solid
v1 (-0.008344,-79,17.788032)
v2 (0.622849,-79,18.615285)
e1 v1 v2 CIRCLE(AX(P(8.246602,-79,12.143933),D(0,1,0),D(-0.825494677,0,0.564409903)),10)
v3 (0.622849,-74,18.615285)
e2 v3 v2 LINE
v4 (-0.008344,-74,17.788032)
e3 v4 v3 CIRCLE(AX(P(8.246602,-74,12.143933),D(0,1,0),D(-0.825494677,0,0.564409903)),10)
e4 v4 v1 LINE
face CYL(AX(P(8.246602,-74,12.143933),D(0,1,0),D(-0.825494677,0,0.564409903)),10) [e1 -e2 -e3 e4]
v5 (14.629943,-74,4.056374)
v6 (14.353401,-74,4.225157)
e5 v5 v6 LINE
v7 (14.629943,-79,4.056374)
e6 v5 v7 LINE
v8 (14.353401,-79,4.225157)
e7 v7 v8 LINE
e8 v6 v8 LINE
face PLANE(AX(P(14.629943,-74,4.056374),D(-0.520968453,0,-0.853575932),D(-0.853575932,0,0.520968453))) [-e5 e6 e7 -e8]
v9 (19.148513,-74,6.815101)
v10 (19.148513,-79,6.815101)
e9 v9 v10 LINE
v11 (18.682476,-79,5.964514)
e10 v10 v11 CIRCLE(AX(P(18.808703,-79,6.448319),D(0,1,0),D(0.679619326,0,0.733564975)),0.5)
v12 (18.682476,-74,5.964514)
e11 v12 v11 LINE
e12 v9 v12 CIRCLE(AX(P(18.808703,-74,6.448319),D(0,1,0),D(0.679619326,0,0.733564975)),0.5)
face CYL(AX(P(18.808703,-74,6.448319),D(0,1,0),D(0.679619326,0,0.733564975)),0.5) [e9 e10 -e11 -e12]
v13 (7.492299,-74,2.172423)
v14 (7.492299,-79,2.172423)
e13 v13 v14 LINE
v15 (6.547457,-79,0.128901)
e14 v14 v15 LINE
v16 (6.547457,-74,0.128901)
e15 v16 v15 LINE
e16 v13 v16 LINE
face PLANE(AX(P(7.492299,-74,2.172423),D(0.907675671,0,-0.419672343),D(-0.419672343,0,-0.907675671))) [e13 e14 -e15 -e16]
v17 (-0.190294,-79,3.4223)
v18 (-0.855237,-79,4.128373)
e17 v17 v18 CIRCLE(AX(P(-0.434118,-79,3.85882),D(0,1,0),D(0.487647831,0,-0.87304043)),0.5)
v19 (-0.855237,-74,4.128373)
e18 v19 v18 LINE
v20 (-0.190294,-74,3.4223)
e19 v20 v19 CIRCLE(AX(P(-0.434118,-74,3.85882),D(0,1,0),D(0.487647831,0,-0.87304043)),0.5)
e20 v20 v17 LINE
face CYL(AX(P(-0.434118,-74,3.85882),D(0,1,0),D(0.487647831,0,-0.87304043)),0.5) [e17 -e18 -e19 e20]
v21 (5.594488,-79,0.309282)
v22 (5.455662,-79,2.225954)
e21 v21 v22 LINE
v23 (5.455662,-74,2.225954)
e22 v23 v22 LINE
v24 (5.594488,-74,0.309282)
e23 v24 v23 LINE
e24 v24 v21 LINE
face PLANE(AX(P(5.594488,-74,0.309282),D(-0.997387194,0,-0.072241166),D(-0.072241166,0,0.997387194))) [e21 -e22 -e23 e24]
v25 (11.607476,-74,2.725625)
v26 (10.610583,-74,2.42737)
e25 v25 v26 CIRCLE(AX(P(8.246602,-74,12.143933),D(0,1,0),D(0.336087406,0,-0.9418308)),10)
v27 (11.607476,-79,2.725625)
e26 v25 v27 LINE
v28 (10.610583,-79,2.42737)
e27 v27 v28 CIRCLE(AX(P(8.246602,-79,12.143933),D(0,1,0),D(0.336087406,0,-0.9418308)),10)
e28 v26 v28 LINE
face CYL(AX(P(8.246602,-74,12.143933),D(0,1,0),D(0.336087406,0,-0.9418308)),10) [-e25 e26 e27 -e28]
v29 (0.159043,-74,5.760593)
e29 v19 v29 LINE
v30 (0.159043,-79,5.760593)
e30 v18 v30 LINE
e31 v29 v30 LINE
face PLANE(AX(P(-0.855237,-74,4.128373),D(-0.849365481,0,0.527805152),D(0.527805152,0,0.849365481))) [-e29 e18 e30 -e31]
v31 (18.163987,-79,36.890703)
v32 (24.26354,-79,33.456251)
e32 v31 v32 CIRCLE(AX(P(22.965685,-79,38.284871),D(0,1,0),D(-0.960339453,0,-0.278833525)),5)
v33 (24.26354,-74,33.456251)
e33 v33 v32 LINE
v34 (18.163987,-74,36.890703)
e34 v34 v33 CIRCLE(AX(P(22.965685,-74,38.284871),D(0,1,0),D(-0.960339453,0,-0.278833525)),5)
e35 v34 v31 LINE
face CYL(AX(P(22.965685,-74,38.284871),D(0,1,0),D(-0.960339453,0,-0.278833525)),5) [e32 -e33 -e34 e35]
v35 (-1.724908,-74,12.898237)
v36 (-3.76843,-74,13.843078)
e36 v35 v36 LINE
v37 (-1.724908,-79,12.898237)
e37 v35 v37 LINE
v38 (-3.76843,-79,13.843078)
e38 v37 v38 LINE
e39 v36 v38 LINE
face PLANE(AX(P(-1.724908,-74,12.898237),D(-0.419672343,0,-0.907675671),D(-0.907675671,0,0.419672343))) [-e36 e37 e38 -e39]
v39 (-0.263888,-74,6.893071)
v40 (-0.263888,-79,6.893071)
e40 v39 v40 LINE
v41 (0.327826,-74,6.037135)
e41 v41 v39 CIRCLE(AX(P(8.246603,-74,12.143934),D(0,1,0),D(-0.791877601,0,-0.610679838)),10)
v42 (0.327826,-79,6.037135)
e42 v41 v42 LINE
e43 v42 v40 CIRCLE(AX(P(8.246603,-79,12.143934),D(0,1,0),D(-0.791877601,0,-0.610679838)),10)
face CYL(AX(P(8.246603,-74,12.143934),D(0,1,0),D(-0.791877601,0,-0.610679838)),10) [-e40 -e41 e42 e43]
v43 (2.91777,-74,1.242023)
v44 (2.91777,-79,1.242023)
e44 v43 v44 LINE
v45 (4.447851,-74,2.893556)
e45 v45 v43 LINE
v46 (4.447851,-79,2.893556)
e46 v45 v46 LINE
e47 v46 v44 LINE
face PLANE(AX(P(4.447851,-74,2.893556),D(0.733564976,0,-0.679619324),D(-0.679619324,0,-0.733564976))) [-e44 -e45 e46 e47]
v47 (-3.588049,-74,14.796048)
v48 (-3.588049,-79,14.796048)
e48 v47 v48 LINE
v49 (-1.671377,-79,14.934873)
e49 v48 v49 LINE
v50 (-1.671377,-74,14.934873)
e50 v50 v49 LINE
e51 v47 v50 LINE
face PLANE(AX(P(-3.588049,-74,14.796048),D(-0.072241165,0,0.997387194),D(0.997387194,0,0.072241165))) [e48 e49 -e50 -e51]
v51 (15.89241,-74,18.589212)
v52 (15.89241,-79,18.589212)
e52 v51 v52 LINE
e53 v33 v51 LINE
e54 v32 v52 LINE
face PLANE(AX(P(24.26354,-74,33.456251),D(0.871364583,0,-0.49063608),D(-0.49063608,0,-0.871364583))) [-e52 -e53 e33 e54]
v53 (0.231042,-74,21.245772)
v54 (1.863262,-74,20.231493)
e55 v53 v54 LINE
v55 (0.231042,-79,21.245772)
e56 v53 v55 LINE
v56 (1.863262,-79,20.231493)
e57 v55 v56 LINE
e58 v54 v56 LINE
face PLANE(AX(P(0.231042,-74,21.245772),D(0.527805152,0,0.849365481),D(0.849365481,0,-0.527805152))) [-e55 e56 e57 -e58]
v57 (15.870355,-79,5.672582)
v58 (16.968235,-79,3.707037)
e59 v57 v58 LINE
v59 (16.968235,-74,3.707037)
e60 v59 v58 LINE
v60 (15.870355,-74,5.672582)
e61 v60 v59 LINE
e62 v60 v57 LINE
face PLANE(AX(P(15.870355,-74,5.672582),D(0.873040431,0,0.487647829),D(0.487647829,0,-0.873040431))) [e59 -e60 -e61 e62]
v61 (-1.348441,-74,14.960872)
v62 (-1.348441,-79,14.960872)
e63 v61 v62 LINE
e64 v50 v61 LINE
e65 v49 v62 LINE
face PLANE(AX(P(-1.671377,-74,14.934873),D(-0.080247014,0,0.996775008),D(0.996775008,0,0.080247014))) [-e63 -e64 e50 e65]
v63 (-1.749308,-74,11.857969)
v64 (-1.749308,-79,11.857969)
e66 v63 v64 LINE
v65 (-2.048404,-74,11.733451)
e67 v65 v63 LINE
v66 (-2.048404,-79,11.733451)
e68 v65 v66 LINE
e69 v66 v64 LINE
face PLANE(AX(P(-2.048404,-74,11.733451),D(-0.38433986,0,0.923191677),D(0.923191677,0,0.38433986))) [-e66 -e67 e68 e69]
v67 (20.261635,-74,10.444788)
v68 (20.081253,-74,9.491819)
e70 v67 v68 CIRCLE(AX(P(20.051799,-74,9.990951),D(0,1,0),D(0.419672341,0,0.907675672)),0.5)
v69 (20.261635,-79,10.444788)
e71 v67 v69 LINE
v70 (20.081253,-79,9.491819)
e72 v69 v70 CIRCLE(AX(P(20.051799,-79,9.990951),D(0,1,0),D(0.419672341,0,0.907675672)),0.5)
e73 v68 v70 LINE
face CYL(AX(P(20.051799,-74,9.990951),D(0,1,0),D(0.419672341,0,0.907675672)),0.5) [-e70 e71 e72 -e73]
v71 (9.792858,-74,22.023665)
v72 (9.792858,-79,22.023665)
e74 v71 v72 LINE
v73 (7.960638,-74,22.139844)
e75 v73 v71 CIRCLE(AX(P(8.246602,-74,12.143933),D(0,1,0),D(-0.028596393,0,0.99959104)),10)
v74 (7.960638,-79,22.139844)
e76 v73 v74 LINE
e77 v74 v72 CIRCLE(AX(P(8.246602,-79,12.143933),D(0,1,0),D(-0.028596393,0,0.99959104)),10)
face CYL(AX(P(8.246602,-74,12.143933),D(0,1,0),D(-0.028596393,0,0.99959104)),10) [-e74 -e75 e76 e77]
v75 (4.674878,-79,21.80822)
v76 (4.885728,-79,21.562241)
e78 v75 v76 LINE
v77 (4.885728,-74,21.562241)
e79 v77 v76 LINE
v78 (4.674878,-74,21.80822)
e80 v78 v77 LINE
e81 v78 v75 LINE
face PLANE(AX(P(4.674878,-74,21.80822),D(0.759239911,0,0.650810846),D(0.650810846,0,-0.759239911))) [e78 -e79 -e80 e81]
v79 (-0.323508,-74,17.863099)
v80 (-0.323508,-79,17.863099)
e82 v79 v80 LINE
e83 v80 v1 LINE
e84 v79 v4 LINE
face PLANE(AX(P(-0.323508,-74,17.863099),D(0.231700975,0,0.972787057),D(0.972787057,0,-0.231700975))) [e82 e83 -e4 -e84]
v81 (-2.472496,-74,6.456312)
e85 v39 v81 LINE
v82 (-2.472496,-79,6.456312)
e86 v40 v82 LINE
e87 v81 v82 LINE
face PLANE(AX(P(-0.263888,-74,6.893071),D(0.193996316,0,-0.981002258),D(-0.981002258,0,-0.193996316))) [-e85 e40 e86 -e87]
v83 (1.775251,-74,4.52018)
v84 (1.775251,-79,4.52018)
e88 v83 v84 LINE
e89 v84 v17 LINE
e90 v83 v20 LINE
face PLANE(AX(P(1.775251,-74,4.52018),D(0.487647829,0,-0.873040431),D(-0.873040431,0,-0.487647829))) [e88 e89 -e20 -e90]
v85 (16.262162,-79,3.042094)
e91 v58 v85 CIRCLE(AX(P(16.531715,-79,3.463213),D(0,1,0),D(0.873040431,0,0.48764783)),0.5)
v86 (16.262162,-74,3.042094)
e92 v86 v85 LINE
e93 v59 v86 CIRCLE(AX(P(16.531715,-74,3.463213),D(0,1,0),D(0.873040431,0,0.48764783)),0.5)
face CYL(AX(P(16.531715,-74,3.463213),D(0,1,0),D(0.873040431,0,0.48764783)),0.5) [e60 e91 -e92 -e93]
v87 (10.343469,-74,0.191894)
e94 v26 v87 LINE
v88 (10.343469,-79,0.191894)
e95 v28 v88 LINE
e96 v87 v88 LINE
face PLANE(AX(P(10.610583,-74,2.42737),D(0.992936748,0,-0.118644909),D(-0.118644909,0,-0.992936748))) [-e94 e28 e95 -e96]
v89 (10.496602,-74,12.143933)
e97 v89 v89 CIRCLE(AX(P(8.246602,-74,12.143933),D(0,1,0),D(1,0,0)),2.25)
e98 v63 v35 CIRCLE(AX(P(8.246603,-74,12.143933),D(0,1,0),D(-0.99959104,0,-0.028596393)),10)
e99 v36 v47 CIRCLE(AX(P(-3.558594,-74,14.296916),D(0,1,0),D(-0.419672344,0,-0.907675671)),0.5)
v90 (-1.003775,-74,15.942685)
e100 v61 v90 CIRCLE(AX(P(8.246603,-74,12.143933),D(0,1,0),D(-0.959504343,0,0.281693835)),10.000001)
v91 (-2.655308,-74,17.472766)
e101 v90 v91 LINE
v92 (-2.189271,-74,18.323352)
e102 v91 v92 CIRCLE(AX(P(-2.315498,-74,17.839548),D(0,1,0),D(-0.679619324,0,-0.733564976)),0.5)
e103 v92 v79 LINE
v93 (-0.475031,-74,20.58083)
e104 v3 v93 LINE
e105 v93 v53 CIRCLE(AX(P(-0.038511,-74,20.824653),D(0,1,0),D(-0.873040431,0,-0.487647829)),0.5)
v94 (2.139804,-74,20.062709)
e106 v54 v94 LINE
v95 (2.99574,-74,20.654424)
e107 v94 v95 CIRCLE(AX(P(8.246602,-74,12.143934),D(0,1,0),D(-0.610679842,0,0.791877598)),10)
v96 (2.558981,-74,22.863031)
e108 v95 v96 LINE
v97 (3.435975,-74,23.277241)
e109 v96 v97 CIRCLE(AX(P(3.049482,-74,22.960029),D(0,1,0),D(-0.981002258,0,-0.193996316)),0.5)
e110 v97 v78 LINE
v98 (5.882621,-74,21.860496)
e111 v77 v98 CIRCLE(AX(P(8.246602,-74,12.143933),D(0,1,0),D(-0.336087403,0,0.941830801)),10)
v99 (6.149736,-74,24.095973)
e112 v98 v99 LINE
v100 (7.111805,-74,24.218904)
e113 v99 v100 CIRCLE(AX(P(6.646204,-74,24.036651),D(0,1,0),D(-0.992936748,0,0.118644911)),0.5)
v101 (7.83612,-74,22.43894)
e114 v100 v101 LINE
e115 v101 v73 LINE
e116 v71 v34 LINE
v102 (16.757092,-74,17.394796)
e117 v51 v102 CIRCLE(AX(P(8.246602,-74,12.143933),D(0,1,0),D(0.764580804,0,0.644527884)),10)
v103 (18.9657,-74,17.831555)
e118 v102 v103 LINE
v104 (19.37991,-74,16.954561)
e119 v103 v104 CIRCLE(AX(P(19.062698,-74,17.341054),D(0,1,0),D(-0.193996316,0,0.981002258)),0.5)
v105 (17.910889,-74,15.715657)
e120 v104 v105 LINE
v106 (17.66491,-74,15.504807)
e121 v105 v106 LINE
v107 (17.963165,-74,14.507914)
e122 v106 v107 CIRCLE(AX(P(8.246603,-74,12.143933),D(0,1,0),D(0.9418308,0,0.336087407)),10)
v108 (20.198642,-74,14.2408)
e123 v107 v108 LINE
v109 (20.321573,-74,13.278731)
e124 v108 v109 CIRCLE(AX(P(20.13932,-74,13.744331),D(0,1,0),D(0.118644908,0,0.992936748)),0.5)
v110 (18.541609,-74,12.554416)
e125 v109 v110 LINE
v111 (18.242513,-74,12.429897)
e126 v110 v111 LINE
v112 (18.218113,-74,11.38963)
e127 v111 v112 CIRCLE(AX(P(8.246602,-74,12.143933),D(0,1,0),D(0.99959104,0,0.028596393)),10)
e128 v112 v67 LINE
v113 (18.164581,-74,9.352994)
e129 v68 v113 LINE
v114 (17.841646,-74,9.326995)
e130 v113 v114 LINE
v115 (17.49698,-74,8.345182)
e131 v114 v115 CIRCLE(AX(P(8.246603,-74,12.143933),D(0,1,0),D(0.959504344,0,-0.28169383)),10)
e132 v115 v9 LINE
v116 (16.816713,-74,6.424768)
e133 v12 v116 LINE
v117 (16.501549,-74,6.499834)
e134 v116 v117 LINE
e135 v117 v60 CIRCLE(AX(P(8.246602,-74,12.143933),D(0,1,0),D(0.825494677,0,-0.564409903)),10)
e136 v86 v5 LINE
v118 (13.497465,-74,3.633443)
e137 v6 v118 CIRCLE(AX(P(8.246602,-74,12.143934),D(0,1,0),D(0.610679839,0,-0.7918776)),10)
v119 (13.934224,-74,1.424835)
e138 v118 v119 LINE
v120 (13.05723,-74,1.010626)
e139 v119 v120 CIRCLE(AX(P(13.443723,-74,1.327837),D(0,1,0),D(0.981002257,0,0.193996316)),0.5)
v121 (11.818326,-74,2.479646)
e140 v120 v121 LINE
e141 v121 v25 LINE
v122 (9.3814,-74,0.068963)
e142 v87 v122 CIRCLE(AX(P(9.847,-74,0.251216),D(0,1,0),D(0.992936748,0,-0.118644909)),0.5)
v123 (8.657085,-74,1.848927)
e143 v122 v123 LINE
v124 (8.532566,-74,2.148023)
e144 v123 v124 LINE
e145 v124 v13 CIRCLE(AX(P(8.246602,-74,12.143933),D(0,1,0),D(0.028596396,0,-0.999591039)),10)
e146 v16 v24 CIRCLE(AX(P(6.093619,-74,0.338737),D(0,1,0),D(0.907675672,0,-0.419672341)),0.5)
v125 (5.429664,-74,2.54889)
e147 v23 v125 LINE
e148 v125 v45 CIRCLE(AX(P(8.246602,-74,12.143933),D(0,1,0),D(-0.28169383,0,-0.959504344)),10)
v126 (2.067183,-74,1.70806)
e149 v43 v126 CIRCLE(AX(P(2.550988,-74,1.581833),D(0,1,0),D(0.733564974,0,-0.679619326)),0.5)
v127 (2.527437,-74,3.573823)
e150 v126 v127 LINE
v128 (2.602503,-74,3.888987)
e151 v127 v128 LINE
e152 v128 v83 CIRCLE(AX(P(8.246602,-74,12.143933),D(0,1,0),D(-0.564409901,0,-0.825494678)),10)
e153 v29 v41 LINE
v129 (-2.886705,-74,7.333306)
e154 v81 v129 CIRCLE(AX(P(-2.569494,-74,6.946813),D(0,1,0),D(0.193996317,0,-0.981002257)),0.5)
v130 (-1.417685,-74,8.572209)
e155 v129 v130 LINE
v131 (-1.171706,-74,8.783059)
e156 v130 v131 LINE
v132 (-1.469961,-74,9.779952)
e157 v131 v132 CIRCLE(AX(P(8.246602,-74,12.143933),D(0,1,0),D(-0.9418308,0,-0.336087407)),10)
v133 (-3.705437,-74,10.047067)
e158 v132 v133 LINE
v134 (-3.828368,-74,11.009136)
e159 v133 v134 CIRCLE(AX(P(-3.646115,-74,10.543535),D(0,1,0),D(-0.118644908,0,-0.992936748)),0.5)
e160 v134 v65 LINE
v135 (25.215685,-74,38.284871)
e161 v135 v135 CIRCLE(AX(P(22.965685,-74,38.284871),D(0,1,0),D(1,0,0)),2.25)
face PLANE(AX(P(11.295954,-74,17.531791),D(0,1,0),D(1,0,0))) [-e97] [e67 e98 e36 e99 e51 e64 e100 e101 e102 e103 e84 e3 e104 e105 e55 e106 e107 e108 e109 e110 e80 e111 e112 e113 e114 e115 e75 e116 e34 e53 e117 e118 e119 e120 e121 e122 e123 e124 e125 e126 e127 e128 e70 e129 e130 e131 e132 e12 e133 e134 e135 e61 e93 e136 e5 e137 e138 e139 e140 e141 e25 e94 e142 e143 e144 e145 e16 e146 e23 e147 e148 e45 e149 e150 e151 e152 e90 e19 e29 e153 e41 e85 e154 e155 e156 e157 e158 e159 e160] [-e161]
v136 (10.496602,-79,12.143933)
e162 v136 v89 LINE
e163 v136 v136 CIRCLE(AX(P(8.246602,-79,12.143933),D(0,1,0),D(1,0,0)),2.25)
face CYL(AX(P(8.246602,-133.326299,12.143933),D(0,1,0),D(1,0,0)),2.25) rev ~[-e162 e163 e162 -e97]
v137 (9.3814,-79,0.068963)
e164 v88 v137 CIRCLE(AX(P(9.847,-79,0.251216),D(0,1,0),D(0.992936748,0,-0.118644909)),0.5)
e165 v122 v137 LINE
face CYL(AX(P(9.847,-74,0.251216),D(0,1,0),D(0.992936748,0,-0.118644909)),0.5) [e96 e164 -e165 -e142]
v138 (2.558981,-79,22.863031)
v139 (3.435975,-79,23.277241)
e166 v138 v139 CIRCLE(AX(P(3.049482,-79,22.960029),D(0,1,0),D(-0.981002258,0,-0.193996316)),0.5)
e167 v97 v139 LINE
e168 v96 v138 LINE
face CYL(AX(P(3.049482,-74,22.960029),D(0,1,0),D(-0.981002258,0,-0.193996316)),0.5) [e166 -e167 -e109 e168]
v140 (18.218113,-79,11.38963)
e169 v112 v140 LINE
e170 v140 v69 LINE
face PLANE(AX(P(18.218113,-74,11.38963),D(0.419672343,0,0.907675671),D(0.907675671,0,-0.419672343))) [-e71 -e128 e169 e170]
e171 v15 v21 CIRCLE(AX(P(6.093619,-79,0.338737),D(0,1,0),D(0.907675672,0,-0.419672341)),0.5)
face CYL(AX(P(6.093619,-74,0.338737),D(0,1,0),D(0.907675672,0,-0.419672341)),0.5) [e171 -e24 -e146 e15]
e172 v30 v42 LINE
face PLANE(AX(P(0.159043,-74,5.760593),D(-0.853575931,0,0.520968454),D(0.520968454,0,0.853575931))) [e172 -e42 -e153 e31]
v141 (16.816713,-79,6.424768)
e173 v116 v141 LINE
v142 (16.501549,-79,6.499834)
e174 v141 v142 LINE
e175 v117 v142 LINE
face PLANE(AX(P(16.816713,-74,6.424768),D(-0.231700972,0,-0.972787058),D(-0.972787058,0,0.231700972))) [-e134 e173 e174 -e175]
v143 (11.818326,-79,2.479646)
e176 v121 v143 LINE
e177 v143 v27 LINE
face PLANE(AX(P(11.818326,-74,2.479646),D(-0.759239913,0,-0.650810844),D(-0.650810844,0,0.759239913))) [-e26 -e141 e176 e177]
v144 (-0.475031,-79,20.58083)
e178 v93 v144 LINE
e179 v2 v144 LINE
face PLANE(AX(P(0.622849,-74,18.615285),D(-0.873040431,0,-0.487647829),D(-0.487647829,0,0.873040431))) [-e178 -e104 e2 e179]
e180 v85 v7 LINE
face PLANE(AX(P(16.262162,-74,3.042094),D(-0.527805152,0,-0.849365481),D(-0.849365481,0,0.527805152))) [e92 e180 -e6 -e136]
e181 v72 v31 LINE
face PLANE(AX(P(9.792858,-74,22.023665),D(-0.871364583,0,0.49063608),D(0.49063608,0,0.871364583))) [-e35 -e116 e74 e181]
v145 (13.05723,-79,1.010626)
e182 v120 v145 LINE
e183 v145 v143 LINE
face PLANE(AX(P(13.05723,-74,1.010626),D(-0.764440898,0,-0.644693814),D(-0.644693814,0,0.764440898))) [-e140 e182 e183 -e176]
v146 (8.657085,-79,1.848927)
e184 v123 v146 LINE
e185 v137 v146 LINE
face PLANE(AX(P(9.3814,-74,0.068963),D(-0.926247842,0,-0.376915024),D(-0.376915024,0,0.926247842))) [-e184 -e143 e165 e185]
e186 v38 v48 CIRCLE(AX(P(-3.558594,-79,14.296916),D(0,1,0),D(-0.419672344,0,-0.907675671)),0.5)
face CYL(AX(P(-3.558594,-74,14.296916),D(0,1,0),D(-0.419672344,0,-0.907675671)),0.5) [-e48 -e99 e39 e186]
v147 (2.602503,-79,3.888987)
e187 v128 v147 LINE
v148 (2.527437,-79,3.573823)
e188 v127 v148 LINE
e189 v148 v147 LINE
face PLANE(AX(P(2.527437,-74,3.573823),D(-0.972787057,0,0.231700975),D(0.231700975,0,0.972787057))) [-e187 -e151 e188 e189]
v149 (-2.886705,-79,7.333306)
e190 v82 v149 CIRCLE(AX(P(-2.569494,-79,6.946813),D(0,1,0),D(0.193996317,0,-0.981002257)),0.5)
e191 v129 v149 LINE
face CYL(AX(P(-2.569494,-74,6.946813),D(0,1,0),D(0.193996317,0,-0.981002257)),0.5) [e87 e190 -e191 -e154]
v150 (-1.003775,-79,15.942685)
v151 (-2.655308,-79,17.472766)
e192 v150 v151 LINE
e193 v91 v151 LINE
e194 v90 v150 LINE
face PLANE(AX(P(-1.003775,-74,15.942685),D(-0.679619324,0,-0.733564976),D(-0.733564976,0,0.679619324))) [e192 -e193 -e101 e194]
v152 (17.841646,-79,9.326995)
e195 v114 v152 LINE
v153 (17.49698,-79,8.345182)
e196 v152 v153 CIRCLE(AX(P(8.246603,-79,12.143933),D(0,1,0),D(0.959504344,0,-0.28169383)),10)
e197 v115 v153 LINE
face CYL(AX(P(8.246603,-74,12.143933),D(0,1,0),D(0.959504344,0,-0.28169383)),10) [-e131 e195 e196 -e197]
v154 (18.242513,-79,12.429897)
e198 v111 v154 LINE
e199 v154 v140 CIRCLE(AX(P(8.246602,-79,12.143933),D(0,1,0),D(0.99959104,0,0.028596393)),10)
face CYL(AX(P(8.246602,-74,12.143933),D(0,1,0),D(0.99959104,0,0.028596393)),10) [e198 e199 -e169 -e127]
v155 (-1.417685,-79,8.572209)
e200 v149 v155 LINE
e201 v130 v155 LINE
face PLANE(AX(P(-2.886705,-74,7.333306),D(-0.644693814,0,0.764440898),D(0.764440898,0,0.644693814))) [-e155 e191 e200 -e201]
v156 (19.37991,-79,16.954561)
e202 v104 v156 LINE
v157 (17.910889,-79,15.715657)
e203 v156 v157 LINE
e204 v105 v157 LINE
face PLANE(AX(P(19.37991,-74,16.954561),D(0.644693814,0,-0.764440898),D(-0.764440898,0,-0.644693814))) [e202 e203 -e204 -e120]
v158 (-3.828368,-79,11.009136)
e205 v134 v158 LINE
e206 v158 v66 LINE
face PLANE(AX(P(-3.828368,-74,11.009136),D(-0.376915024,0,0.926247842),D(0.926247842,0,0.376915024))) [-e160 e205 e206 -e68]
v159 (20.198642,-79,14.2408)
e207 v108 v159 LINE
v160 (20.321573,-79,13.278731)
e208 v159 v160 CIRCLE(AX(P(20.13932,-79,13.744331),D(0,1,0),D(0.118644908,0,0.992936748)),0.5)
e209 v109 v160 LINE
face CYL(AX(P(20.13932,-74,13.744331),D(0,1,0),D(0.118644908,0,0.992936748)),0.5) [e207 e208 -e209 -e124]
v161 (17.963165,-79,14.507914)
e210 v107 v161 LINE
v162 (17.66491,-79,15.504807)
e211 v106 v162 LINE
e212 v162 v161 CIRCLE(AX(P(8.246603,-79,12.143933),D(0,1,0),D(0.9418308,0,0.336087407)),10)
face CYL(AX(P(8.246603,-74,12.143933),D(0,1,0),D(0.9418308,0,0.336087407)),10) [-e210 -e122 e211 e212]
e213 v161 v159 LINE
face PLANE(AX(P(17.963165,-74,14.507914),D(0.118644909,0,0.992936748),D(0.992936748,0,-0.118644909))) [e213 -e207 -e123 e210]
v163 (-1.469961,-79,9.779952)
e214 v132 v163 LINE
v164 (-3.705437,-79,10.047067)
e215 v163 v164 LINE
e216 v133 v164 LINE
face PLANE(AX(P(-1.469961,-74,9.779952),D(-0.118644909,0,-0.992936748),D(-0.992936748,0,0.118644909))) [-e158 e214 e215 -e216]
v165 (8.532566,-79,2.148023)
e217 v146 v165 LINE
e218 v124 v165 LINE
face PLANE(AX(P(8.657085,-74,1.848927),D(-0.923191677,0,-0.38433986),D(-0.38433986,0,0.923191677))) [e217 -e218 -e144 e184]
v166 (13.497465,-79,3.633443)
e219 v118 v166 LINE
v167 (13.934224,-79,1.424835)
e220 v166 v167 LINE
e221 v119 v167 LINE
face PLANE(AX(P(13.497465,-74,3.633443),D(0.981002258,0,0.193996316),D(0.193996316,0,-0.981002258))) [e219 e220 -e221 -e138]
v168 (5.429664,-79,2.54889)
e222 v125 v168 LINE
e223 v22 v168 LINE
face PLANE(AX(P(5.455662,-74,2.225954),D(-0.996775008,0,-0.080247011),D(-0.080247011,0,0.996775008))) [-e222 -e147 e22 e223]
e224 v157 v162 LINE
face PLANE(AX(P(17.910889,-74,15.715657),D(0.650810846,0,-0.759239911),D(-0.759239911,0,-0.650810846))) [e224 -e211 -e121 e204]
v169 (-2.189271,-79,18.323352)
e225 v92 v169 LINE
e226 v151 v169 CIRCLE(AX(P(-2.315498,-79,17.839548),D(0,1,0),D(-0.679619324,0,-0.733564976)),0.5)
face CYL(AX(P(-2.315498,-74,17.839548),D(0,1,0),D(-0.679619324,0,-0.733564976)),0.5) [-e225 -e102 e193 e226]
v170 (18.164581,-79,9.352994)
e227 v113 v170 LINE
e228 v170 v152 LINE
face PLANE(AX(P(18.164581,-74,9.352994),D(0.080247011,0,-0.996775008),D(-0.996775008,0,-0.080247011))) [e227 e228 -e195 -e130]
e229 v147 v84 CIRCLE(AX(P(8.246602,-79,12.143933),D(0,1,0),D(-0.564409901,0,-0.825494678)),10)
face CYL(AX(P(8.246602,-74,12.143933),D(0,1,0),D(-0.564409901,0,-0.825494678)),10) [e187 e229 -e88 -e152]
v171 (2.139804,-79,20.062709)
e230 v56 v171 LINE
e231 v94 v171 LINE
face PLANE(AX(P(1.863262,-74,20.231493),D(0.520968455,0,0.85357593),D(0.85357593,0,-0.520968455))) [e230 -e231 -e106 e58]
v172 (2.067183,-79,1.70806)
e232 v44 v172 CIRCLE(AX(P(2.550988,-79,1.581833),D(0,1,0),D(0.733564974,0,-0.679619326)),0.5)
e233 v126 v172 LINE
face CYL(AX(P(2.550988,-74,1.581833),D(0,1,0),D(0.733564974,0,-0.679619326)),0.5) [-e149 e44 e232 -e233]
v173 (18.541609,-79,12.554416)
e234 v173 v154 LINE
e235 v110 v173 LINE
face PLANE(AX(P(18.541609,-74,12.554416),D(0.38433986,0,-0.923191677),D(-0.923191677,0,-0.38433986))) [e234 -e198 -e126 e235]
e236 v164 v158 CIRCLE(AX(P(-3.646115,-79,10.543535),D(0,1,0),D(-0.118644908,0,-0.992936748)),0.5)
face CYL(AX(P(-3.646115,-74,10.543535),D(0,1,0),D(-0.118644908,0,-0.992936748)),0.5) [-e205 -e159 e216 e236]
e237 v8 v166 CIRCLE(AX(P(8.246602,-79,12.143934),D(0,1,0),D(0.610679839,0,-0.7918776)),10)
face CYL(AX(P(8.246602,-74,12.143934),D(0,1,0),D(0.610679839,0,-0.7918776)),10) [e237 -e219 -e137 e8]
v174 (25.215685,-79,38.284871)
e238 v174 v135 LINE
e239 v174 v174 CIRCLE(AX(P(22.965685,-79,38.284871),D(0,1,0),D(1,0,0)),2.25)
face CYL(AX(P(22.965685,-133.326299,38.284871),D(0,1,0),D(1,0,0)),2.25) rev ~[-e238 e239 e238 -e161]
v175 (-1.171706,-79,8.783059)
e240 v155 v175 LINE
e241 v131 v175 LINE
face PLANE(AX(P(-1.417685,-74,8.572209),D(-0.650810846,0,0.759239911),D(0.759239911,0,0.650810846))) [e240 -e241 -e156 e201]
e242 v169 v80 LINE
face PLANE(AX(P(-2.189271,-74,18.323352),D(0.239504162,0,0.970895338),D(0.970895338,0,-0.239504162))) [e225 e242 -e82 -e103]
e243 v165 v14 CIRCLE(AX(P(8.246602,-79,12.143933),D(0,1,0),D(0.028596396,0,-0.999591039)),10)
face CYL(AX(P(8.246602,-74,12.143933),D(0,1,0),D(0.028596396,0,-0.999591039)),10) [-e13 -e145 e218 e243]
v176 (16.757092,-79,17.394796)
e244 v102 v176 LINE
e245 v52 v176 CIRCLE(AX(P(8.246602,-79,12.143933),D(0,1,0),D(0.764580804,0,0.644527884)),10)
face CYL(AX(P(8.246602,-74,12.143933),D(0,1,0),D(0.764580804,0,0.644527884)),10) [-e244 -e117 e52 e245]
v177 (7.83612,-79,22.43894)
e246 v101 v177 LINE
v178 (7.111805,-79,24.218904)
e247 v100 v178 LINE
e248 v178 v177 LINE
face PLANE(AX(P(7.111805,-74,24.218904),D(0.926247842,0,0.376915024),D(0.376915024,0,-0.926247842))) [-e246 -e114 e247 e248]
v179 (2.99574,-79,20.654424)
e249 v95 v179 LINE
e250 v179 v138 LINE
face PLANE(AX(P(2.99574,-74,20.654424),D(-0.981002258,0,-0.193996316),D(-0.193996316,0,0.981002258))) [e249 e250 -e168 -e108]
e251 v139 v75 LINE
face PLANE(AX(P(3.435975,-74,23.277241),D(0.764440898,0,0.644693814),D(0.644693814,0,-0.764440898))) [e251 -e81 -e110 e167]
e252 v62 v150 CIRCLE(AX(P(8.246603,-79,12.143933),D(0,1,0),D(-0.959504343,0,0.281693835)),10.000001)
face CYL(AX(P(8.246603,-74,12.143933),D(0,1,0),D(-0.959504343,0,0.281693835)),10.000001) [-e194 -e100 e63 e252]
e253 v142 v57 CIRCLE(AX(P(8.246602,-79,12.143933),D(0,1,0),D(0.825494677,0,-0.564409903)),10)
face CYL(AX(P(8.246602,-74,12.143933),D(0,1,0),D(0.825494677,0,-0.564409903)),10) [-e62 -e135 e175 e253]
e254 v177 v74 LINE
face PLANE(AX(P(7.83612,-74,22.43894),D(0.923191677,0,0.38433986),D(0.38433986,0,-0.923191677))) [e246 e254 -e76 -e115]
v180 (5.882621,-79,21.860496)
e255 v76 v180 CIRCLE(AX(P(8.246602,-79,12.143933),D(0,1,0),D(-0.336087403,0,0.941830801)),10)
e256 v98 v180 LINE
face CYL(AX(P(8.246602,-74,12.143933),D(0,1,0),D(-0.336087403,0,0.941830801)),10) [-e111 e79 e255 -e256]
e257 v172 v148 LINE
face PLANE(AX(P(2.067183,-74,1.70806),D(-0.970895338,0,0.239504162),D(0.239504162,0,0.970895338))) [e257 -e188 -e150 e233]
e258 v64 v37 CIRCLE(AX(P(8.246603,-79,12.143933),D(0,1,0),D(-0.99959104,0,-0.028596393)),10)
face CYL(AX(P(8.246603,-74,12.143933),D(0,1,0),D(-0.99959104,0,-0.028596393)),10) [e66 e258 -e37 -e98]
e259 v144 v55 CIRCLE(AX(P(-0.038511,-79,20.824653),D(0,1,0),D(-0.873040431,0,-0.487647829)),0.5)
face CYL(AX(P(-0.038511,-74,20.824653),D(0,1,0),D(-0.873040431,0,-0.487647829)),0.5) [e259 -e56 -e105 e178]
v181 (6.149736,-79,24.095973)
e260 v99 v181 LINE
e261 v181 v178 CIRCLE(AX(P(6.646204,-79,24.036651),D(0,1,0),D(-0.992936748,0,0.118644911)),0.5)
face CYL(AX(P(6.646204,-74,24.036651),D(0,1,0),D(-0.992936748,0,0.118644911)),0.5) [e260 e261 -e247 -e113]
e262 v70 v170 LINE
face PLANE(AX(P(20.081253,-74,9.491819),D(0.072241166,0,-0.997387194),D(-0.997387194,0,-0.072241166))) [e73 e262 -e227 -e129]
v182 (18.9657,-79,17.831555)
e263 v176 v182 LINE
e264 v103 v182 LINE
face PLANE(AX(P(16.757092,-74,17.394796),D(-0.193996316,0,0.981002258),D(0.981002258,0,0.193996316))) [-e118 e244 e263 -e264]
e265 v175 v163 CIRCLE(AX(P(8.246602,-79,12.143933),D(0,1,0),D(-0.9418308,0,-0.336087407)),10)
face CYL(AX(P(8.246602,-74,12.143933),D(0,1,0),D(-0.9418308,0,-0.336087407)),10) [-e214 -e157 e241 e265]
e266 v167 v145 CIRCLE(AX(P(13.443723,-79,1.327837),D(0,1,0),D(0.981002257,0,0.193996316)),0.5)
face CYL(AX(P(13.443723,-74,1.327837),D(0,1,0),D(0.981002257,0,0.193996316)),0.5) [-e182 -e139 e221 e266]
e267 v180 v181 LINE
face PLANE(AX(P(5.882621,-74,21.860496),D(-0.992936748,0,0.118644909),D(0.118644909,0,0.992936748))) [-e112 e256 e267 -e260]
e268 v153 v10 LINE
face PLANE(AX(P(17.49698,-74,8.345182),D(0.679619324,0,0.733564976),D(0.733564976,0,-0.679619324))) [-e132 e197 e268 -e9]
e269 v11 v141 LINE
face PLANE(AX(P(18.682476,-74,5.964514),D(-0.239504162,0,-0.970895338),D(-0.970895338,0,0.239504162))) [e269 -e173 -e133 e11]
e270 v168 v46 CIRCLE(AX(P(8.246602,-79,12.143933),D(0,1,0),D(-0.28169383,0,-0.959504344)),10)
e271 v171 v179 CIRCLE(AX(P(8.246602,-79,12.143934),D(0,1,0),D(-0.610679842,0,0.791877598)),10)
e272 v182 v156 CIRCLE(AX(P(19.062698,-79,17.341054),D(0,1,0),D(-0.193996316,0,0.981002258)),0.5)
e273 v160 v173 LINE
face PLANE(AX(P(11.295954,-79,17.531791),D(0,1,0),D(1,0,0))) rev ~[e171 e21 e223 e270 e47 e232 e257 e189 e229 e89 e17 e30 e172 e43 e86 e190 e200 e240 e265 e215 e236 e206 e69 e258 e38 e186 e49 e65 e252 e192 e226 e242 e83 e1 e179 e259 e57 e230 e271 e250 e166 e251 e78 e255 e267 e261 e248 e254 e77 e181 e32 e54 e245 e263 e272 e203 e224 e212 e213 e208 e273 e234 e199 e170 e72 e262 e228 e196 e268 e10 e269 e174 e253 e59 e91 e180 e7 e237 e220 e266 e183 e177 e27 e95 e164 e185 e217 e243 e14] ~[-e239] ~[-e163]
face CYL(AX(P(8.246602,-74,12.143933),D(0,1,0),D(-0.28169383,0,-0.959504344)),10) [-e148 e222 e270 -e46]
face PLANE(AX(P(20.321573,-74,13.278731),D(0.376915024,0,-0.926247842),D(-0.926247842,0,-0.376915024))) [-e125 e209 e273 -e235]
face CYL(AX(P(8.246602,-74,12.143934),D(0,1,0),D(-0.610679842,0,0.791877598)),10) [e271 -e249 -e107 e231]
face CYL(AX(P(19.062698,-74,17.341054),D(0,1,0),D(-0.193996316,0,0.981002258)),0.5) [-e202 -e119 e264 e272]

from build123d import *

# Parameters (mm, degrees)
BOSS_EXTRUDE1_DEPTH        = 5
F_4_5_4_5_DIAMETER_HOLE1_D = 4.5


with BuildPart() as part:
    # Sketch1 → Boss-Extrude1 (new body)
    with BuildSketch(Plane(origin=(0, -74, 0), x_dir=(1, 0, 0), z_dir=(0, 1, 0))):
        with BuildLine():
            Line((9.792858273, -22.023664764), (18.163987442, -36.890703242))
            ThreePointArc((18.163987442, -36.890703242), (25.418865109, -42.641693781), (24.263539525, -33.456250682))
            Line((24.263539525, -33.456250682), (15.892410356, -18.589212204))
            ThreePointArc((15.892410356, -18.589212204), (16.346796769, -18.007963525), (16.757092444, -17.394795929))
            Line((16.757092444, -17.394795929), (18.965700238, -17.831555144))
            ThreePointArc((18.965700238, -17.831555144), (19.514808102, -17.55458812), (19.379909826, -16.954560925))
            Line((19.379909826, -16.954560925), (17.910889228, -15.715657441))
            Line((17.910889228, -15.715657441), (17.664910308, -15.504807423))
            ThreePointArc((17.664910308, -15.504807423), (17.827013037, -15.010242888), (17.963165175, -14.507914341))
            Line((17.963165175, -14.507914341), (20.19864203, -14.240799695))
            ThreePointArc((20.19864203, -14.240799695), (20.635287125, -13.80770474), (20.32157264, -13.278730827))
            Line((20.32157264, -13.278730827), (18.541608797, -12.554415925))
            Line((18.541608797, -12.554415925), (18.242512703, -12.429897308))
            ThreePointArc((18.242512703, -12.429897308), (18.243852713, -11.909445986), (18.218113034, -11.389629824))
            Line((18.218113034, -11.389629824), (20.261634899, -10.444788361))
            ThreePointArc((20.261634899, -10.444788361), (20.543075361, -9.897959827), (20.081253227, -9.491818847))
            Line((20.081253227, -9.491818847), (18.164581401, -9.352993516))
            Line((18.164581401, -9.352993516), (17.841645743, -9.32699505))
            ThreePointArc((17.841645743, -9.32699505), (17.682091866, -8.831602343), (17.496979948, -8.345181793))
            Line((17.496979948, -8.345181793), (19.148512665, -6.815101178))
            ThreePointArc((19.148512665, -6.815101178), (19.247199139, -6.208066452), (18.682475725, -5.964514314))
            Line((18.682475725, -5.964514314), (16.816713109, -6.424767746))
            Line((16.816713109, -6.424767746), (16.501549079, -6.499834341))
            ThreePointArc((16.501549079, -6.499834341), (16.196719559, -6.077992739), (15.870355447, -5.672582033))
            Line((15.870355447, -5.672582033), (16.968235486, -3.707037218))
            ThreePointArc((16.968235486, -3.707037218), (16.874507855, -3.099217089), (16.262162222, -3.042094373))
            Line((16.262162222, -3.042094373), (14.62994266, -4.056373754))
            Line((14.62994266, -4.056373754), (14.353400709, -4.22515737))
            ThreePointArc((14.353400709, -4.22515737), (13.933134384, -3.918159668), (13.497464871, -3.633443231))
            Line((13.497464871, -3.633443231), (13.934224085, -1.424835437))
            ThreePointArc((13.934224085, -1.424835437), (13.657257061, -0.875727573), (13.057229867, -1.010625848))
            Line((13.057229867, -1.010625848), (11.818326382, -2.479646446))
            Line((11.818326382, -2.479646446), (11.607476364, -2.725625367))
            ThreePointArc((11.607476364, -2.725625367), (11.112911829, -2.563522638), (10.610583282, -2.427370499))
            Line((10.610583282, -2.427370499), (10.343468637, -0.191893645))
            ThreePointArc((10.343468637, -0.191893645), (9.910373682, 0.24475145), (9.381399768, -0.068963034))
            Line((9.381399768, -0.068963034), (8.657084866, -1.848926878))
            Line((8.657084866, -1.848926878), (8.532566249, -2.148022972))
            ThreePointArc((8.532566249, -2.148022972), (8.012114927, -2.146682961), (7.492298765, -2.17242264))
            Line((7.492298765, -2.17242264), (6.547457302, -0.128900776))
            ThreePointArc((6.547457302, -0.128900776), (6.000628768, 0.152539686), (5.594487788, -0.309282448))
            Line((5.594487788, -0.309282448), (5.455662457, -2.225954274))
            Line((5.455662457, -2.225954274), (5.429663991, -2.548889932))
            ThreePointArc((5.429663991, -2.548889932), (4.934271284, -2.708443809), (4.447850734, -2.893555727))
            Line((4.447850734, -2.893555727), (2.917770119, -1.24202301))
            ThreePointArc((2.917770119, -1.24202301), (2.310735394, -1.143336536), (2.067183255, -1.70805995))
            Line((2.067183255, -1.70805995), (2.527436687, -3.573822566))
            Line((2.527436687, -3.573822566), (2.602503283, -3.888986596))
            ThreePointArc((2.602503283, -3.888986596), (2.18066168, -4.193816116), (1.775250975, -4.520180228))
            Line((1.775250975, -4.520180228), (-0.19029384, -3.422300189))
            ThreePointArc((-0.19029384, -3.422300189), (-0.79811397, -3.51602782), (-0.855236686, -4.128373453))
            Line((-0.855236686, -4.128373453), (0.159042695, -5.760593015))
            Line((0.159042695, -5.760593015), (0.327826311, -6.037134965))
            ThreePointArc((0.327826311, -6.037134965), (0.020828609, -6.457401291), (-0.263887828, -6.893070804))
            Line((-0.263887828, -6.893070804), (-2.472495622, -6.45631159))
            ThreePointArc((-2.472495622, -6.45631159), (-3.021603486, -6.733278614), (-2.88670521, -7.333305808))
            Line((-2.88670521, -7.333305808), (-1.417684612, -8.572209293))
            Line((-1.417684612, -8.572209293), (-1.171705692, -8.783059311))
            ThreePointArc((-1.171705692, -8.783059311), (-1.333808421, -9.277623846), (-1.469960559, -9.779952393))
            Line((-1.469960559, -9.779952393), (-3.705437414, -10.047067038))
            ThreePointArc((-3.705437414, -10.047067038), (-4.142082509, -10.480161993), (-3.828368024, -11.009135907))
            Line((-3.828368024, -11.009135907), (-2.048404181, -11.733450809))
            Line((-2.048404181, -11.733450809), (-1.749308087, -11.857969426))
            ThreePointArc((-1.749308087, -11.857969426), (-1.750648097, -12.378420747), (-1.724908418, -12.89823691))
            Line((-1.724908418, -12.89823691), (-3.768430283, -13.843078373))
            ThreePointArc((-3.768430283, -13.843078373), (-4.049870744, -14.389906907), (-3.588048611, -14.796047887))
            Line((-3.588048611, -14.796047887), (-1.671376785, -14.934873217))
            Line((-1.671376785, -14.934873217), (-1.348441127, -14.960871684))
            ThreePointArc((-1.348441127, -14.960871684), (-1.188887249, -15.45626439), (-1.003775332, -15.942684941))
            Line((-1.003775332, -15.942684941), (-2.655308048, -17.472765555))
            ThreePointArc((-2.655308048, -17.472765555), (-2.753994523, -18.079800281), (-2.189271109, -18.32335242))
            Line((-2.189271109, -18.32335242), (-0.323508493, -17.863098988))
            Line((-0.323508493, -17.863098988), (-0.008344463, -17.788032392))
            ThreePointArc((-0.008344463, -17.788032392), (0.296485057, -18.209873994), (0.622849169, -18.6152847))
            Line((0.622849169, -18.6152847), (-0.47503087, -20.580829515))
            ThreePointArc((-0.47503087, -20.580829515), (-0.381303238, -21.188649645), (0.231042394, -21.245772361))
            Line((0.231042394, -21.245772361), (1.863261956, -20.23149298))
            Line((1.863261956, -20.23149298), (2.139803907, -20.062709363))
            ThreePointArc((2.139803907, -20.062709363), (2.560070232, -20.369707066), (2.995739745, -20.654423502))
            Line((2.995739745, -20.654423502), (2.558980531, -22.863031297))
            ThreePointArc((2.558980531, -22.863031297), (2.835947555, -23.412139161), (3.43597475, -23.277240885))
            Line((3.43597475, -23.277240885), (4.674878234, -21.808220287))
            Line((4.674878234, -21.808220287), (4.885728252, -21.562241367))
            ThreePointArc((4.885728252, -21.562241367), (5.380292787, -21.724344095), (5.882621334, -21.860496234))
            Line((5.882621334, -21.860496234), (6.149735979, -24.095973089))
            ThreePointArc((6.149735979, -24.095973089), (6.582830934, -24.532618183), (7.111804848, -24.218903699))
            Line((7.111804848, -24.218903699), (7.83611975, -22.438939856))
            Line((7.83611975, -22.438939856), (7.960638367, -22.139843762))
            ThreePointArc((7.960638367, -22.139843762), (8.879420123, -22.123890361), (9.792858273, -22.023664764))
        make_face()
    extrude(amount=-BOSS_EXTRUDE1_DEPTH)

    # Ø4.5 (4.5) Diameter Hole1 (through all)
    with Locations(Plane(origin=(0, -79, 0), x_dir=(-1, 0, 0), z_dir=(0, -1, 0))):
        with Locations((-22.965684708, -38.284870865), (-8.246602308, -12.143933367)):
            Hole(F_4_5_4_5_DIAMETER_HOLE1_D / 2)


solid = part.part
